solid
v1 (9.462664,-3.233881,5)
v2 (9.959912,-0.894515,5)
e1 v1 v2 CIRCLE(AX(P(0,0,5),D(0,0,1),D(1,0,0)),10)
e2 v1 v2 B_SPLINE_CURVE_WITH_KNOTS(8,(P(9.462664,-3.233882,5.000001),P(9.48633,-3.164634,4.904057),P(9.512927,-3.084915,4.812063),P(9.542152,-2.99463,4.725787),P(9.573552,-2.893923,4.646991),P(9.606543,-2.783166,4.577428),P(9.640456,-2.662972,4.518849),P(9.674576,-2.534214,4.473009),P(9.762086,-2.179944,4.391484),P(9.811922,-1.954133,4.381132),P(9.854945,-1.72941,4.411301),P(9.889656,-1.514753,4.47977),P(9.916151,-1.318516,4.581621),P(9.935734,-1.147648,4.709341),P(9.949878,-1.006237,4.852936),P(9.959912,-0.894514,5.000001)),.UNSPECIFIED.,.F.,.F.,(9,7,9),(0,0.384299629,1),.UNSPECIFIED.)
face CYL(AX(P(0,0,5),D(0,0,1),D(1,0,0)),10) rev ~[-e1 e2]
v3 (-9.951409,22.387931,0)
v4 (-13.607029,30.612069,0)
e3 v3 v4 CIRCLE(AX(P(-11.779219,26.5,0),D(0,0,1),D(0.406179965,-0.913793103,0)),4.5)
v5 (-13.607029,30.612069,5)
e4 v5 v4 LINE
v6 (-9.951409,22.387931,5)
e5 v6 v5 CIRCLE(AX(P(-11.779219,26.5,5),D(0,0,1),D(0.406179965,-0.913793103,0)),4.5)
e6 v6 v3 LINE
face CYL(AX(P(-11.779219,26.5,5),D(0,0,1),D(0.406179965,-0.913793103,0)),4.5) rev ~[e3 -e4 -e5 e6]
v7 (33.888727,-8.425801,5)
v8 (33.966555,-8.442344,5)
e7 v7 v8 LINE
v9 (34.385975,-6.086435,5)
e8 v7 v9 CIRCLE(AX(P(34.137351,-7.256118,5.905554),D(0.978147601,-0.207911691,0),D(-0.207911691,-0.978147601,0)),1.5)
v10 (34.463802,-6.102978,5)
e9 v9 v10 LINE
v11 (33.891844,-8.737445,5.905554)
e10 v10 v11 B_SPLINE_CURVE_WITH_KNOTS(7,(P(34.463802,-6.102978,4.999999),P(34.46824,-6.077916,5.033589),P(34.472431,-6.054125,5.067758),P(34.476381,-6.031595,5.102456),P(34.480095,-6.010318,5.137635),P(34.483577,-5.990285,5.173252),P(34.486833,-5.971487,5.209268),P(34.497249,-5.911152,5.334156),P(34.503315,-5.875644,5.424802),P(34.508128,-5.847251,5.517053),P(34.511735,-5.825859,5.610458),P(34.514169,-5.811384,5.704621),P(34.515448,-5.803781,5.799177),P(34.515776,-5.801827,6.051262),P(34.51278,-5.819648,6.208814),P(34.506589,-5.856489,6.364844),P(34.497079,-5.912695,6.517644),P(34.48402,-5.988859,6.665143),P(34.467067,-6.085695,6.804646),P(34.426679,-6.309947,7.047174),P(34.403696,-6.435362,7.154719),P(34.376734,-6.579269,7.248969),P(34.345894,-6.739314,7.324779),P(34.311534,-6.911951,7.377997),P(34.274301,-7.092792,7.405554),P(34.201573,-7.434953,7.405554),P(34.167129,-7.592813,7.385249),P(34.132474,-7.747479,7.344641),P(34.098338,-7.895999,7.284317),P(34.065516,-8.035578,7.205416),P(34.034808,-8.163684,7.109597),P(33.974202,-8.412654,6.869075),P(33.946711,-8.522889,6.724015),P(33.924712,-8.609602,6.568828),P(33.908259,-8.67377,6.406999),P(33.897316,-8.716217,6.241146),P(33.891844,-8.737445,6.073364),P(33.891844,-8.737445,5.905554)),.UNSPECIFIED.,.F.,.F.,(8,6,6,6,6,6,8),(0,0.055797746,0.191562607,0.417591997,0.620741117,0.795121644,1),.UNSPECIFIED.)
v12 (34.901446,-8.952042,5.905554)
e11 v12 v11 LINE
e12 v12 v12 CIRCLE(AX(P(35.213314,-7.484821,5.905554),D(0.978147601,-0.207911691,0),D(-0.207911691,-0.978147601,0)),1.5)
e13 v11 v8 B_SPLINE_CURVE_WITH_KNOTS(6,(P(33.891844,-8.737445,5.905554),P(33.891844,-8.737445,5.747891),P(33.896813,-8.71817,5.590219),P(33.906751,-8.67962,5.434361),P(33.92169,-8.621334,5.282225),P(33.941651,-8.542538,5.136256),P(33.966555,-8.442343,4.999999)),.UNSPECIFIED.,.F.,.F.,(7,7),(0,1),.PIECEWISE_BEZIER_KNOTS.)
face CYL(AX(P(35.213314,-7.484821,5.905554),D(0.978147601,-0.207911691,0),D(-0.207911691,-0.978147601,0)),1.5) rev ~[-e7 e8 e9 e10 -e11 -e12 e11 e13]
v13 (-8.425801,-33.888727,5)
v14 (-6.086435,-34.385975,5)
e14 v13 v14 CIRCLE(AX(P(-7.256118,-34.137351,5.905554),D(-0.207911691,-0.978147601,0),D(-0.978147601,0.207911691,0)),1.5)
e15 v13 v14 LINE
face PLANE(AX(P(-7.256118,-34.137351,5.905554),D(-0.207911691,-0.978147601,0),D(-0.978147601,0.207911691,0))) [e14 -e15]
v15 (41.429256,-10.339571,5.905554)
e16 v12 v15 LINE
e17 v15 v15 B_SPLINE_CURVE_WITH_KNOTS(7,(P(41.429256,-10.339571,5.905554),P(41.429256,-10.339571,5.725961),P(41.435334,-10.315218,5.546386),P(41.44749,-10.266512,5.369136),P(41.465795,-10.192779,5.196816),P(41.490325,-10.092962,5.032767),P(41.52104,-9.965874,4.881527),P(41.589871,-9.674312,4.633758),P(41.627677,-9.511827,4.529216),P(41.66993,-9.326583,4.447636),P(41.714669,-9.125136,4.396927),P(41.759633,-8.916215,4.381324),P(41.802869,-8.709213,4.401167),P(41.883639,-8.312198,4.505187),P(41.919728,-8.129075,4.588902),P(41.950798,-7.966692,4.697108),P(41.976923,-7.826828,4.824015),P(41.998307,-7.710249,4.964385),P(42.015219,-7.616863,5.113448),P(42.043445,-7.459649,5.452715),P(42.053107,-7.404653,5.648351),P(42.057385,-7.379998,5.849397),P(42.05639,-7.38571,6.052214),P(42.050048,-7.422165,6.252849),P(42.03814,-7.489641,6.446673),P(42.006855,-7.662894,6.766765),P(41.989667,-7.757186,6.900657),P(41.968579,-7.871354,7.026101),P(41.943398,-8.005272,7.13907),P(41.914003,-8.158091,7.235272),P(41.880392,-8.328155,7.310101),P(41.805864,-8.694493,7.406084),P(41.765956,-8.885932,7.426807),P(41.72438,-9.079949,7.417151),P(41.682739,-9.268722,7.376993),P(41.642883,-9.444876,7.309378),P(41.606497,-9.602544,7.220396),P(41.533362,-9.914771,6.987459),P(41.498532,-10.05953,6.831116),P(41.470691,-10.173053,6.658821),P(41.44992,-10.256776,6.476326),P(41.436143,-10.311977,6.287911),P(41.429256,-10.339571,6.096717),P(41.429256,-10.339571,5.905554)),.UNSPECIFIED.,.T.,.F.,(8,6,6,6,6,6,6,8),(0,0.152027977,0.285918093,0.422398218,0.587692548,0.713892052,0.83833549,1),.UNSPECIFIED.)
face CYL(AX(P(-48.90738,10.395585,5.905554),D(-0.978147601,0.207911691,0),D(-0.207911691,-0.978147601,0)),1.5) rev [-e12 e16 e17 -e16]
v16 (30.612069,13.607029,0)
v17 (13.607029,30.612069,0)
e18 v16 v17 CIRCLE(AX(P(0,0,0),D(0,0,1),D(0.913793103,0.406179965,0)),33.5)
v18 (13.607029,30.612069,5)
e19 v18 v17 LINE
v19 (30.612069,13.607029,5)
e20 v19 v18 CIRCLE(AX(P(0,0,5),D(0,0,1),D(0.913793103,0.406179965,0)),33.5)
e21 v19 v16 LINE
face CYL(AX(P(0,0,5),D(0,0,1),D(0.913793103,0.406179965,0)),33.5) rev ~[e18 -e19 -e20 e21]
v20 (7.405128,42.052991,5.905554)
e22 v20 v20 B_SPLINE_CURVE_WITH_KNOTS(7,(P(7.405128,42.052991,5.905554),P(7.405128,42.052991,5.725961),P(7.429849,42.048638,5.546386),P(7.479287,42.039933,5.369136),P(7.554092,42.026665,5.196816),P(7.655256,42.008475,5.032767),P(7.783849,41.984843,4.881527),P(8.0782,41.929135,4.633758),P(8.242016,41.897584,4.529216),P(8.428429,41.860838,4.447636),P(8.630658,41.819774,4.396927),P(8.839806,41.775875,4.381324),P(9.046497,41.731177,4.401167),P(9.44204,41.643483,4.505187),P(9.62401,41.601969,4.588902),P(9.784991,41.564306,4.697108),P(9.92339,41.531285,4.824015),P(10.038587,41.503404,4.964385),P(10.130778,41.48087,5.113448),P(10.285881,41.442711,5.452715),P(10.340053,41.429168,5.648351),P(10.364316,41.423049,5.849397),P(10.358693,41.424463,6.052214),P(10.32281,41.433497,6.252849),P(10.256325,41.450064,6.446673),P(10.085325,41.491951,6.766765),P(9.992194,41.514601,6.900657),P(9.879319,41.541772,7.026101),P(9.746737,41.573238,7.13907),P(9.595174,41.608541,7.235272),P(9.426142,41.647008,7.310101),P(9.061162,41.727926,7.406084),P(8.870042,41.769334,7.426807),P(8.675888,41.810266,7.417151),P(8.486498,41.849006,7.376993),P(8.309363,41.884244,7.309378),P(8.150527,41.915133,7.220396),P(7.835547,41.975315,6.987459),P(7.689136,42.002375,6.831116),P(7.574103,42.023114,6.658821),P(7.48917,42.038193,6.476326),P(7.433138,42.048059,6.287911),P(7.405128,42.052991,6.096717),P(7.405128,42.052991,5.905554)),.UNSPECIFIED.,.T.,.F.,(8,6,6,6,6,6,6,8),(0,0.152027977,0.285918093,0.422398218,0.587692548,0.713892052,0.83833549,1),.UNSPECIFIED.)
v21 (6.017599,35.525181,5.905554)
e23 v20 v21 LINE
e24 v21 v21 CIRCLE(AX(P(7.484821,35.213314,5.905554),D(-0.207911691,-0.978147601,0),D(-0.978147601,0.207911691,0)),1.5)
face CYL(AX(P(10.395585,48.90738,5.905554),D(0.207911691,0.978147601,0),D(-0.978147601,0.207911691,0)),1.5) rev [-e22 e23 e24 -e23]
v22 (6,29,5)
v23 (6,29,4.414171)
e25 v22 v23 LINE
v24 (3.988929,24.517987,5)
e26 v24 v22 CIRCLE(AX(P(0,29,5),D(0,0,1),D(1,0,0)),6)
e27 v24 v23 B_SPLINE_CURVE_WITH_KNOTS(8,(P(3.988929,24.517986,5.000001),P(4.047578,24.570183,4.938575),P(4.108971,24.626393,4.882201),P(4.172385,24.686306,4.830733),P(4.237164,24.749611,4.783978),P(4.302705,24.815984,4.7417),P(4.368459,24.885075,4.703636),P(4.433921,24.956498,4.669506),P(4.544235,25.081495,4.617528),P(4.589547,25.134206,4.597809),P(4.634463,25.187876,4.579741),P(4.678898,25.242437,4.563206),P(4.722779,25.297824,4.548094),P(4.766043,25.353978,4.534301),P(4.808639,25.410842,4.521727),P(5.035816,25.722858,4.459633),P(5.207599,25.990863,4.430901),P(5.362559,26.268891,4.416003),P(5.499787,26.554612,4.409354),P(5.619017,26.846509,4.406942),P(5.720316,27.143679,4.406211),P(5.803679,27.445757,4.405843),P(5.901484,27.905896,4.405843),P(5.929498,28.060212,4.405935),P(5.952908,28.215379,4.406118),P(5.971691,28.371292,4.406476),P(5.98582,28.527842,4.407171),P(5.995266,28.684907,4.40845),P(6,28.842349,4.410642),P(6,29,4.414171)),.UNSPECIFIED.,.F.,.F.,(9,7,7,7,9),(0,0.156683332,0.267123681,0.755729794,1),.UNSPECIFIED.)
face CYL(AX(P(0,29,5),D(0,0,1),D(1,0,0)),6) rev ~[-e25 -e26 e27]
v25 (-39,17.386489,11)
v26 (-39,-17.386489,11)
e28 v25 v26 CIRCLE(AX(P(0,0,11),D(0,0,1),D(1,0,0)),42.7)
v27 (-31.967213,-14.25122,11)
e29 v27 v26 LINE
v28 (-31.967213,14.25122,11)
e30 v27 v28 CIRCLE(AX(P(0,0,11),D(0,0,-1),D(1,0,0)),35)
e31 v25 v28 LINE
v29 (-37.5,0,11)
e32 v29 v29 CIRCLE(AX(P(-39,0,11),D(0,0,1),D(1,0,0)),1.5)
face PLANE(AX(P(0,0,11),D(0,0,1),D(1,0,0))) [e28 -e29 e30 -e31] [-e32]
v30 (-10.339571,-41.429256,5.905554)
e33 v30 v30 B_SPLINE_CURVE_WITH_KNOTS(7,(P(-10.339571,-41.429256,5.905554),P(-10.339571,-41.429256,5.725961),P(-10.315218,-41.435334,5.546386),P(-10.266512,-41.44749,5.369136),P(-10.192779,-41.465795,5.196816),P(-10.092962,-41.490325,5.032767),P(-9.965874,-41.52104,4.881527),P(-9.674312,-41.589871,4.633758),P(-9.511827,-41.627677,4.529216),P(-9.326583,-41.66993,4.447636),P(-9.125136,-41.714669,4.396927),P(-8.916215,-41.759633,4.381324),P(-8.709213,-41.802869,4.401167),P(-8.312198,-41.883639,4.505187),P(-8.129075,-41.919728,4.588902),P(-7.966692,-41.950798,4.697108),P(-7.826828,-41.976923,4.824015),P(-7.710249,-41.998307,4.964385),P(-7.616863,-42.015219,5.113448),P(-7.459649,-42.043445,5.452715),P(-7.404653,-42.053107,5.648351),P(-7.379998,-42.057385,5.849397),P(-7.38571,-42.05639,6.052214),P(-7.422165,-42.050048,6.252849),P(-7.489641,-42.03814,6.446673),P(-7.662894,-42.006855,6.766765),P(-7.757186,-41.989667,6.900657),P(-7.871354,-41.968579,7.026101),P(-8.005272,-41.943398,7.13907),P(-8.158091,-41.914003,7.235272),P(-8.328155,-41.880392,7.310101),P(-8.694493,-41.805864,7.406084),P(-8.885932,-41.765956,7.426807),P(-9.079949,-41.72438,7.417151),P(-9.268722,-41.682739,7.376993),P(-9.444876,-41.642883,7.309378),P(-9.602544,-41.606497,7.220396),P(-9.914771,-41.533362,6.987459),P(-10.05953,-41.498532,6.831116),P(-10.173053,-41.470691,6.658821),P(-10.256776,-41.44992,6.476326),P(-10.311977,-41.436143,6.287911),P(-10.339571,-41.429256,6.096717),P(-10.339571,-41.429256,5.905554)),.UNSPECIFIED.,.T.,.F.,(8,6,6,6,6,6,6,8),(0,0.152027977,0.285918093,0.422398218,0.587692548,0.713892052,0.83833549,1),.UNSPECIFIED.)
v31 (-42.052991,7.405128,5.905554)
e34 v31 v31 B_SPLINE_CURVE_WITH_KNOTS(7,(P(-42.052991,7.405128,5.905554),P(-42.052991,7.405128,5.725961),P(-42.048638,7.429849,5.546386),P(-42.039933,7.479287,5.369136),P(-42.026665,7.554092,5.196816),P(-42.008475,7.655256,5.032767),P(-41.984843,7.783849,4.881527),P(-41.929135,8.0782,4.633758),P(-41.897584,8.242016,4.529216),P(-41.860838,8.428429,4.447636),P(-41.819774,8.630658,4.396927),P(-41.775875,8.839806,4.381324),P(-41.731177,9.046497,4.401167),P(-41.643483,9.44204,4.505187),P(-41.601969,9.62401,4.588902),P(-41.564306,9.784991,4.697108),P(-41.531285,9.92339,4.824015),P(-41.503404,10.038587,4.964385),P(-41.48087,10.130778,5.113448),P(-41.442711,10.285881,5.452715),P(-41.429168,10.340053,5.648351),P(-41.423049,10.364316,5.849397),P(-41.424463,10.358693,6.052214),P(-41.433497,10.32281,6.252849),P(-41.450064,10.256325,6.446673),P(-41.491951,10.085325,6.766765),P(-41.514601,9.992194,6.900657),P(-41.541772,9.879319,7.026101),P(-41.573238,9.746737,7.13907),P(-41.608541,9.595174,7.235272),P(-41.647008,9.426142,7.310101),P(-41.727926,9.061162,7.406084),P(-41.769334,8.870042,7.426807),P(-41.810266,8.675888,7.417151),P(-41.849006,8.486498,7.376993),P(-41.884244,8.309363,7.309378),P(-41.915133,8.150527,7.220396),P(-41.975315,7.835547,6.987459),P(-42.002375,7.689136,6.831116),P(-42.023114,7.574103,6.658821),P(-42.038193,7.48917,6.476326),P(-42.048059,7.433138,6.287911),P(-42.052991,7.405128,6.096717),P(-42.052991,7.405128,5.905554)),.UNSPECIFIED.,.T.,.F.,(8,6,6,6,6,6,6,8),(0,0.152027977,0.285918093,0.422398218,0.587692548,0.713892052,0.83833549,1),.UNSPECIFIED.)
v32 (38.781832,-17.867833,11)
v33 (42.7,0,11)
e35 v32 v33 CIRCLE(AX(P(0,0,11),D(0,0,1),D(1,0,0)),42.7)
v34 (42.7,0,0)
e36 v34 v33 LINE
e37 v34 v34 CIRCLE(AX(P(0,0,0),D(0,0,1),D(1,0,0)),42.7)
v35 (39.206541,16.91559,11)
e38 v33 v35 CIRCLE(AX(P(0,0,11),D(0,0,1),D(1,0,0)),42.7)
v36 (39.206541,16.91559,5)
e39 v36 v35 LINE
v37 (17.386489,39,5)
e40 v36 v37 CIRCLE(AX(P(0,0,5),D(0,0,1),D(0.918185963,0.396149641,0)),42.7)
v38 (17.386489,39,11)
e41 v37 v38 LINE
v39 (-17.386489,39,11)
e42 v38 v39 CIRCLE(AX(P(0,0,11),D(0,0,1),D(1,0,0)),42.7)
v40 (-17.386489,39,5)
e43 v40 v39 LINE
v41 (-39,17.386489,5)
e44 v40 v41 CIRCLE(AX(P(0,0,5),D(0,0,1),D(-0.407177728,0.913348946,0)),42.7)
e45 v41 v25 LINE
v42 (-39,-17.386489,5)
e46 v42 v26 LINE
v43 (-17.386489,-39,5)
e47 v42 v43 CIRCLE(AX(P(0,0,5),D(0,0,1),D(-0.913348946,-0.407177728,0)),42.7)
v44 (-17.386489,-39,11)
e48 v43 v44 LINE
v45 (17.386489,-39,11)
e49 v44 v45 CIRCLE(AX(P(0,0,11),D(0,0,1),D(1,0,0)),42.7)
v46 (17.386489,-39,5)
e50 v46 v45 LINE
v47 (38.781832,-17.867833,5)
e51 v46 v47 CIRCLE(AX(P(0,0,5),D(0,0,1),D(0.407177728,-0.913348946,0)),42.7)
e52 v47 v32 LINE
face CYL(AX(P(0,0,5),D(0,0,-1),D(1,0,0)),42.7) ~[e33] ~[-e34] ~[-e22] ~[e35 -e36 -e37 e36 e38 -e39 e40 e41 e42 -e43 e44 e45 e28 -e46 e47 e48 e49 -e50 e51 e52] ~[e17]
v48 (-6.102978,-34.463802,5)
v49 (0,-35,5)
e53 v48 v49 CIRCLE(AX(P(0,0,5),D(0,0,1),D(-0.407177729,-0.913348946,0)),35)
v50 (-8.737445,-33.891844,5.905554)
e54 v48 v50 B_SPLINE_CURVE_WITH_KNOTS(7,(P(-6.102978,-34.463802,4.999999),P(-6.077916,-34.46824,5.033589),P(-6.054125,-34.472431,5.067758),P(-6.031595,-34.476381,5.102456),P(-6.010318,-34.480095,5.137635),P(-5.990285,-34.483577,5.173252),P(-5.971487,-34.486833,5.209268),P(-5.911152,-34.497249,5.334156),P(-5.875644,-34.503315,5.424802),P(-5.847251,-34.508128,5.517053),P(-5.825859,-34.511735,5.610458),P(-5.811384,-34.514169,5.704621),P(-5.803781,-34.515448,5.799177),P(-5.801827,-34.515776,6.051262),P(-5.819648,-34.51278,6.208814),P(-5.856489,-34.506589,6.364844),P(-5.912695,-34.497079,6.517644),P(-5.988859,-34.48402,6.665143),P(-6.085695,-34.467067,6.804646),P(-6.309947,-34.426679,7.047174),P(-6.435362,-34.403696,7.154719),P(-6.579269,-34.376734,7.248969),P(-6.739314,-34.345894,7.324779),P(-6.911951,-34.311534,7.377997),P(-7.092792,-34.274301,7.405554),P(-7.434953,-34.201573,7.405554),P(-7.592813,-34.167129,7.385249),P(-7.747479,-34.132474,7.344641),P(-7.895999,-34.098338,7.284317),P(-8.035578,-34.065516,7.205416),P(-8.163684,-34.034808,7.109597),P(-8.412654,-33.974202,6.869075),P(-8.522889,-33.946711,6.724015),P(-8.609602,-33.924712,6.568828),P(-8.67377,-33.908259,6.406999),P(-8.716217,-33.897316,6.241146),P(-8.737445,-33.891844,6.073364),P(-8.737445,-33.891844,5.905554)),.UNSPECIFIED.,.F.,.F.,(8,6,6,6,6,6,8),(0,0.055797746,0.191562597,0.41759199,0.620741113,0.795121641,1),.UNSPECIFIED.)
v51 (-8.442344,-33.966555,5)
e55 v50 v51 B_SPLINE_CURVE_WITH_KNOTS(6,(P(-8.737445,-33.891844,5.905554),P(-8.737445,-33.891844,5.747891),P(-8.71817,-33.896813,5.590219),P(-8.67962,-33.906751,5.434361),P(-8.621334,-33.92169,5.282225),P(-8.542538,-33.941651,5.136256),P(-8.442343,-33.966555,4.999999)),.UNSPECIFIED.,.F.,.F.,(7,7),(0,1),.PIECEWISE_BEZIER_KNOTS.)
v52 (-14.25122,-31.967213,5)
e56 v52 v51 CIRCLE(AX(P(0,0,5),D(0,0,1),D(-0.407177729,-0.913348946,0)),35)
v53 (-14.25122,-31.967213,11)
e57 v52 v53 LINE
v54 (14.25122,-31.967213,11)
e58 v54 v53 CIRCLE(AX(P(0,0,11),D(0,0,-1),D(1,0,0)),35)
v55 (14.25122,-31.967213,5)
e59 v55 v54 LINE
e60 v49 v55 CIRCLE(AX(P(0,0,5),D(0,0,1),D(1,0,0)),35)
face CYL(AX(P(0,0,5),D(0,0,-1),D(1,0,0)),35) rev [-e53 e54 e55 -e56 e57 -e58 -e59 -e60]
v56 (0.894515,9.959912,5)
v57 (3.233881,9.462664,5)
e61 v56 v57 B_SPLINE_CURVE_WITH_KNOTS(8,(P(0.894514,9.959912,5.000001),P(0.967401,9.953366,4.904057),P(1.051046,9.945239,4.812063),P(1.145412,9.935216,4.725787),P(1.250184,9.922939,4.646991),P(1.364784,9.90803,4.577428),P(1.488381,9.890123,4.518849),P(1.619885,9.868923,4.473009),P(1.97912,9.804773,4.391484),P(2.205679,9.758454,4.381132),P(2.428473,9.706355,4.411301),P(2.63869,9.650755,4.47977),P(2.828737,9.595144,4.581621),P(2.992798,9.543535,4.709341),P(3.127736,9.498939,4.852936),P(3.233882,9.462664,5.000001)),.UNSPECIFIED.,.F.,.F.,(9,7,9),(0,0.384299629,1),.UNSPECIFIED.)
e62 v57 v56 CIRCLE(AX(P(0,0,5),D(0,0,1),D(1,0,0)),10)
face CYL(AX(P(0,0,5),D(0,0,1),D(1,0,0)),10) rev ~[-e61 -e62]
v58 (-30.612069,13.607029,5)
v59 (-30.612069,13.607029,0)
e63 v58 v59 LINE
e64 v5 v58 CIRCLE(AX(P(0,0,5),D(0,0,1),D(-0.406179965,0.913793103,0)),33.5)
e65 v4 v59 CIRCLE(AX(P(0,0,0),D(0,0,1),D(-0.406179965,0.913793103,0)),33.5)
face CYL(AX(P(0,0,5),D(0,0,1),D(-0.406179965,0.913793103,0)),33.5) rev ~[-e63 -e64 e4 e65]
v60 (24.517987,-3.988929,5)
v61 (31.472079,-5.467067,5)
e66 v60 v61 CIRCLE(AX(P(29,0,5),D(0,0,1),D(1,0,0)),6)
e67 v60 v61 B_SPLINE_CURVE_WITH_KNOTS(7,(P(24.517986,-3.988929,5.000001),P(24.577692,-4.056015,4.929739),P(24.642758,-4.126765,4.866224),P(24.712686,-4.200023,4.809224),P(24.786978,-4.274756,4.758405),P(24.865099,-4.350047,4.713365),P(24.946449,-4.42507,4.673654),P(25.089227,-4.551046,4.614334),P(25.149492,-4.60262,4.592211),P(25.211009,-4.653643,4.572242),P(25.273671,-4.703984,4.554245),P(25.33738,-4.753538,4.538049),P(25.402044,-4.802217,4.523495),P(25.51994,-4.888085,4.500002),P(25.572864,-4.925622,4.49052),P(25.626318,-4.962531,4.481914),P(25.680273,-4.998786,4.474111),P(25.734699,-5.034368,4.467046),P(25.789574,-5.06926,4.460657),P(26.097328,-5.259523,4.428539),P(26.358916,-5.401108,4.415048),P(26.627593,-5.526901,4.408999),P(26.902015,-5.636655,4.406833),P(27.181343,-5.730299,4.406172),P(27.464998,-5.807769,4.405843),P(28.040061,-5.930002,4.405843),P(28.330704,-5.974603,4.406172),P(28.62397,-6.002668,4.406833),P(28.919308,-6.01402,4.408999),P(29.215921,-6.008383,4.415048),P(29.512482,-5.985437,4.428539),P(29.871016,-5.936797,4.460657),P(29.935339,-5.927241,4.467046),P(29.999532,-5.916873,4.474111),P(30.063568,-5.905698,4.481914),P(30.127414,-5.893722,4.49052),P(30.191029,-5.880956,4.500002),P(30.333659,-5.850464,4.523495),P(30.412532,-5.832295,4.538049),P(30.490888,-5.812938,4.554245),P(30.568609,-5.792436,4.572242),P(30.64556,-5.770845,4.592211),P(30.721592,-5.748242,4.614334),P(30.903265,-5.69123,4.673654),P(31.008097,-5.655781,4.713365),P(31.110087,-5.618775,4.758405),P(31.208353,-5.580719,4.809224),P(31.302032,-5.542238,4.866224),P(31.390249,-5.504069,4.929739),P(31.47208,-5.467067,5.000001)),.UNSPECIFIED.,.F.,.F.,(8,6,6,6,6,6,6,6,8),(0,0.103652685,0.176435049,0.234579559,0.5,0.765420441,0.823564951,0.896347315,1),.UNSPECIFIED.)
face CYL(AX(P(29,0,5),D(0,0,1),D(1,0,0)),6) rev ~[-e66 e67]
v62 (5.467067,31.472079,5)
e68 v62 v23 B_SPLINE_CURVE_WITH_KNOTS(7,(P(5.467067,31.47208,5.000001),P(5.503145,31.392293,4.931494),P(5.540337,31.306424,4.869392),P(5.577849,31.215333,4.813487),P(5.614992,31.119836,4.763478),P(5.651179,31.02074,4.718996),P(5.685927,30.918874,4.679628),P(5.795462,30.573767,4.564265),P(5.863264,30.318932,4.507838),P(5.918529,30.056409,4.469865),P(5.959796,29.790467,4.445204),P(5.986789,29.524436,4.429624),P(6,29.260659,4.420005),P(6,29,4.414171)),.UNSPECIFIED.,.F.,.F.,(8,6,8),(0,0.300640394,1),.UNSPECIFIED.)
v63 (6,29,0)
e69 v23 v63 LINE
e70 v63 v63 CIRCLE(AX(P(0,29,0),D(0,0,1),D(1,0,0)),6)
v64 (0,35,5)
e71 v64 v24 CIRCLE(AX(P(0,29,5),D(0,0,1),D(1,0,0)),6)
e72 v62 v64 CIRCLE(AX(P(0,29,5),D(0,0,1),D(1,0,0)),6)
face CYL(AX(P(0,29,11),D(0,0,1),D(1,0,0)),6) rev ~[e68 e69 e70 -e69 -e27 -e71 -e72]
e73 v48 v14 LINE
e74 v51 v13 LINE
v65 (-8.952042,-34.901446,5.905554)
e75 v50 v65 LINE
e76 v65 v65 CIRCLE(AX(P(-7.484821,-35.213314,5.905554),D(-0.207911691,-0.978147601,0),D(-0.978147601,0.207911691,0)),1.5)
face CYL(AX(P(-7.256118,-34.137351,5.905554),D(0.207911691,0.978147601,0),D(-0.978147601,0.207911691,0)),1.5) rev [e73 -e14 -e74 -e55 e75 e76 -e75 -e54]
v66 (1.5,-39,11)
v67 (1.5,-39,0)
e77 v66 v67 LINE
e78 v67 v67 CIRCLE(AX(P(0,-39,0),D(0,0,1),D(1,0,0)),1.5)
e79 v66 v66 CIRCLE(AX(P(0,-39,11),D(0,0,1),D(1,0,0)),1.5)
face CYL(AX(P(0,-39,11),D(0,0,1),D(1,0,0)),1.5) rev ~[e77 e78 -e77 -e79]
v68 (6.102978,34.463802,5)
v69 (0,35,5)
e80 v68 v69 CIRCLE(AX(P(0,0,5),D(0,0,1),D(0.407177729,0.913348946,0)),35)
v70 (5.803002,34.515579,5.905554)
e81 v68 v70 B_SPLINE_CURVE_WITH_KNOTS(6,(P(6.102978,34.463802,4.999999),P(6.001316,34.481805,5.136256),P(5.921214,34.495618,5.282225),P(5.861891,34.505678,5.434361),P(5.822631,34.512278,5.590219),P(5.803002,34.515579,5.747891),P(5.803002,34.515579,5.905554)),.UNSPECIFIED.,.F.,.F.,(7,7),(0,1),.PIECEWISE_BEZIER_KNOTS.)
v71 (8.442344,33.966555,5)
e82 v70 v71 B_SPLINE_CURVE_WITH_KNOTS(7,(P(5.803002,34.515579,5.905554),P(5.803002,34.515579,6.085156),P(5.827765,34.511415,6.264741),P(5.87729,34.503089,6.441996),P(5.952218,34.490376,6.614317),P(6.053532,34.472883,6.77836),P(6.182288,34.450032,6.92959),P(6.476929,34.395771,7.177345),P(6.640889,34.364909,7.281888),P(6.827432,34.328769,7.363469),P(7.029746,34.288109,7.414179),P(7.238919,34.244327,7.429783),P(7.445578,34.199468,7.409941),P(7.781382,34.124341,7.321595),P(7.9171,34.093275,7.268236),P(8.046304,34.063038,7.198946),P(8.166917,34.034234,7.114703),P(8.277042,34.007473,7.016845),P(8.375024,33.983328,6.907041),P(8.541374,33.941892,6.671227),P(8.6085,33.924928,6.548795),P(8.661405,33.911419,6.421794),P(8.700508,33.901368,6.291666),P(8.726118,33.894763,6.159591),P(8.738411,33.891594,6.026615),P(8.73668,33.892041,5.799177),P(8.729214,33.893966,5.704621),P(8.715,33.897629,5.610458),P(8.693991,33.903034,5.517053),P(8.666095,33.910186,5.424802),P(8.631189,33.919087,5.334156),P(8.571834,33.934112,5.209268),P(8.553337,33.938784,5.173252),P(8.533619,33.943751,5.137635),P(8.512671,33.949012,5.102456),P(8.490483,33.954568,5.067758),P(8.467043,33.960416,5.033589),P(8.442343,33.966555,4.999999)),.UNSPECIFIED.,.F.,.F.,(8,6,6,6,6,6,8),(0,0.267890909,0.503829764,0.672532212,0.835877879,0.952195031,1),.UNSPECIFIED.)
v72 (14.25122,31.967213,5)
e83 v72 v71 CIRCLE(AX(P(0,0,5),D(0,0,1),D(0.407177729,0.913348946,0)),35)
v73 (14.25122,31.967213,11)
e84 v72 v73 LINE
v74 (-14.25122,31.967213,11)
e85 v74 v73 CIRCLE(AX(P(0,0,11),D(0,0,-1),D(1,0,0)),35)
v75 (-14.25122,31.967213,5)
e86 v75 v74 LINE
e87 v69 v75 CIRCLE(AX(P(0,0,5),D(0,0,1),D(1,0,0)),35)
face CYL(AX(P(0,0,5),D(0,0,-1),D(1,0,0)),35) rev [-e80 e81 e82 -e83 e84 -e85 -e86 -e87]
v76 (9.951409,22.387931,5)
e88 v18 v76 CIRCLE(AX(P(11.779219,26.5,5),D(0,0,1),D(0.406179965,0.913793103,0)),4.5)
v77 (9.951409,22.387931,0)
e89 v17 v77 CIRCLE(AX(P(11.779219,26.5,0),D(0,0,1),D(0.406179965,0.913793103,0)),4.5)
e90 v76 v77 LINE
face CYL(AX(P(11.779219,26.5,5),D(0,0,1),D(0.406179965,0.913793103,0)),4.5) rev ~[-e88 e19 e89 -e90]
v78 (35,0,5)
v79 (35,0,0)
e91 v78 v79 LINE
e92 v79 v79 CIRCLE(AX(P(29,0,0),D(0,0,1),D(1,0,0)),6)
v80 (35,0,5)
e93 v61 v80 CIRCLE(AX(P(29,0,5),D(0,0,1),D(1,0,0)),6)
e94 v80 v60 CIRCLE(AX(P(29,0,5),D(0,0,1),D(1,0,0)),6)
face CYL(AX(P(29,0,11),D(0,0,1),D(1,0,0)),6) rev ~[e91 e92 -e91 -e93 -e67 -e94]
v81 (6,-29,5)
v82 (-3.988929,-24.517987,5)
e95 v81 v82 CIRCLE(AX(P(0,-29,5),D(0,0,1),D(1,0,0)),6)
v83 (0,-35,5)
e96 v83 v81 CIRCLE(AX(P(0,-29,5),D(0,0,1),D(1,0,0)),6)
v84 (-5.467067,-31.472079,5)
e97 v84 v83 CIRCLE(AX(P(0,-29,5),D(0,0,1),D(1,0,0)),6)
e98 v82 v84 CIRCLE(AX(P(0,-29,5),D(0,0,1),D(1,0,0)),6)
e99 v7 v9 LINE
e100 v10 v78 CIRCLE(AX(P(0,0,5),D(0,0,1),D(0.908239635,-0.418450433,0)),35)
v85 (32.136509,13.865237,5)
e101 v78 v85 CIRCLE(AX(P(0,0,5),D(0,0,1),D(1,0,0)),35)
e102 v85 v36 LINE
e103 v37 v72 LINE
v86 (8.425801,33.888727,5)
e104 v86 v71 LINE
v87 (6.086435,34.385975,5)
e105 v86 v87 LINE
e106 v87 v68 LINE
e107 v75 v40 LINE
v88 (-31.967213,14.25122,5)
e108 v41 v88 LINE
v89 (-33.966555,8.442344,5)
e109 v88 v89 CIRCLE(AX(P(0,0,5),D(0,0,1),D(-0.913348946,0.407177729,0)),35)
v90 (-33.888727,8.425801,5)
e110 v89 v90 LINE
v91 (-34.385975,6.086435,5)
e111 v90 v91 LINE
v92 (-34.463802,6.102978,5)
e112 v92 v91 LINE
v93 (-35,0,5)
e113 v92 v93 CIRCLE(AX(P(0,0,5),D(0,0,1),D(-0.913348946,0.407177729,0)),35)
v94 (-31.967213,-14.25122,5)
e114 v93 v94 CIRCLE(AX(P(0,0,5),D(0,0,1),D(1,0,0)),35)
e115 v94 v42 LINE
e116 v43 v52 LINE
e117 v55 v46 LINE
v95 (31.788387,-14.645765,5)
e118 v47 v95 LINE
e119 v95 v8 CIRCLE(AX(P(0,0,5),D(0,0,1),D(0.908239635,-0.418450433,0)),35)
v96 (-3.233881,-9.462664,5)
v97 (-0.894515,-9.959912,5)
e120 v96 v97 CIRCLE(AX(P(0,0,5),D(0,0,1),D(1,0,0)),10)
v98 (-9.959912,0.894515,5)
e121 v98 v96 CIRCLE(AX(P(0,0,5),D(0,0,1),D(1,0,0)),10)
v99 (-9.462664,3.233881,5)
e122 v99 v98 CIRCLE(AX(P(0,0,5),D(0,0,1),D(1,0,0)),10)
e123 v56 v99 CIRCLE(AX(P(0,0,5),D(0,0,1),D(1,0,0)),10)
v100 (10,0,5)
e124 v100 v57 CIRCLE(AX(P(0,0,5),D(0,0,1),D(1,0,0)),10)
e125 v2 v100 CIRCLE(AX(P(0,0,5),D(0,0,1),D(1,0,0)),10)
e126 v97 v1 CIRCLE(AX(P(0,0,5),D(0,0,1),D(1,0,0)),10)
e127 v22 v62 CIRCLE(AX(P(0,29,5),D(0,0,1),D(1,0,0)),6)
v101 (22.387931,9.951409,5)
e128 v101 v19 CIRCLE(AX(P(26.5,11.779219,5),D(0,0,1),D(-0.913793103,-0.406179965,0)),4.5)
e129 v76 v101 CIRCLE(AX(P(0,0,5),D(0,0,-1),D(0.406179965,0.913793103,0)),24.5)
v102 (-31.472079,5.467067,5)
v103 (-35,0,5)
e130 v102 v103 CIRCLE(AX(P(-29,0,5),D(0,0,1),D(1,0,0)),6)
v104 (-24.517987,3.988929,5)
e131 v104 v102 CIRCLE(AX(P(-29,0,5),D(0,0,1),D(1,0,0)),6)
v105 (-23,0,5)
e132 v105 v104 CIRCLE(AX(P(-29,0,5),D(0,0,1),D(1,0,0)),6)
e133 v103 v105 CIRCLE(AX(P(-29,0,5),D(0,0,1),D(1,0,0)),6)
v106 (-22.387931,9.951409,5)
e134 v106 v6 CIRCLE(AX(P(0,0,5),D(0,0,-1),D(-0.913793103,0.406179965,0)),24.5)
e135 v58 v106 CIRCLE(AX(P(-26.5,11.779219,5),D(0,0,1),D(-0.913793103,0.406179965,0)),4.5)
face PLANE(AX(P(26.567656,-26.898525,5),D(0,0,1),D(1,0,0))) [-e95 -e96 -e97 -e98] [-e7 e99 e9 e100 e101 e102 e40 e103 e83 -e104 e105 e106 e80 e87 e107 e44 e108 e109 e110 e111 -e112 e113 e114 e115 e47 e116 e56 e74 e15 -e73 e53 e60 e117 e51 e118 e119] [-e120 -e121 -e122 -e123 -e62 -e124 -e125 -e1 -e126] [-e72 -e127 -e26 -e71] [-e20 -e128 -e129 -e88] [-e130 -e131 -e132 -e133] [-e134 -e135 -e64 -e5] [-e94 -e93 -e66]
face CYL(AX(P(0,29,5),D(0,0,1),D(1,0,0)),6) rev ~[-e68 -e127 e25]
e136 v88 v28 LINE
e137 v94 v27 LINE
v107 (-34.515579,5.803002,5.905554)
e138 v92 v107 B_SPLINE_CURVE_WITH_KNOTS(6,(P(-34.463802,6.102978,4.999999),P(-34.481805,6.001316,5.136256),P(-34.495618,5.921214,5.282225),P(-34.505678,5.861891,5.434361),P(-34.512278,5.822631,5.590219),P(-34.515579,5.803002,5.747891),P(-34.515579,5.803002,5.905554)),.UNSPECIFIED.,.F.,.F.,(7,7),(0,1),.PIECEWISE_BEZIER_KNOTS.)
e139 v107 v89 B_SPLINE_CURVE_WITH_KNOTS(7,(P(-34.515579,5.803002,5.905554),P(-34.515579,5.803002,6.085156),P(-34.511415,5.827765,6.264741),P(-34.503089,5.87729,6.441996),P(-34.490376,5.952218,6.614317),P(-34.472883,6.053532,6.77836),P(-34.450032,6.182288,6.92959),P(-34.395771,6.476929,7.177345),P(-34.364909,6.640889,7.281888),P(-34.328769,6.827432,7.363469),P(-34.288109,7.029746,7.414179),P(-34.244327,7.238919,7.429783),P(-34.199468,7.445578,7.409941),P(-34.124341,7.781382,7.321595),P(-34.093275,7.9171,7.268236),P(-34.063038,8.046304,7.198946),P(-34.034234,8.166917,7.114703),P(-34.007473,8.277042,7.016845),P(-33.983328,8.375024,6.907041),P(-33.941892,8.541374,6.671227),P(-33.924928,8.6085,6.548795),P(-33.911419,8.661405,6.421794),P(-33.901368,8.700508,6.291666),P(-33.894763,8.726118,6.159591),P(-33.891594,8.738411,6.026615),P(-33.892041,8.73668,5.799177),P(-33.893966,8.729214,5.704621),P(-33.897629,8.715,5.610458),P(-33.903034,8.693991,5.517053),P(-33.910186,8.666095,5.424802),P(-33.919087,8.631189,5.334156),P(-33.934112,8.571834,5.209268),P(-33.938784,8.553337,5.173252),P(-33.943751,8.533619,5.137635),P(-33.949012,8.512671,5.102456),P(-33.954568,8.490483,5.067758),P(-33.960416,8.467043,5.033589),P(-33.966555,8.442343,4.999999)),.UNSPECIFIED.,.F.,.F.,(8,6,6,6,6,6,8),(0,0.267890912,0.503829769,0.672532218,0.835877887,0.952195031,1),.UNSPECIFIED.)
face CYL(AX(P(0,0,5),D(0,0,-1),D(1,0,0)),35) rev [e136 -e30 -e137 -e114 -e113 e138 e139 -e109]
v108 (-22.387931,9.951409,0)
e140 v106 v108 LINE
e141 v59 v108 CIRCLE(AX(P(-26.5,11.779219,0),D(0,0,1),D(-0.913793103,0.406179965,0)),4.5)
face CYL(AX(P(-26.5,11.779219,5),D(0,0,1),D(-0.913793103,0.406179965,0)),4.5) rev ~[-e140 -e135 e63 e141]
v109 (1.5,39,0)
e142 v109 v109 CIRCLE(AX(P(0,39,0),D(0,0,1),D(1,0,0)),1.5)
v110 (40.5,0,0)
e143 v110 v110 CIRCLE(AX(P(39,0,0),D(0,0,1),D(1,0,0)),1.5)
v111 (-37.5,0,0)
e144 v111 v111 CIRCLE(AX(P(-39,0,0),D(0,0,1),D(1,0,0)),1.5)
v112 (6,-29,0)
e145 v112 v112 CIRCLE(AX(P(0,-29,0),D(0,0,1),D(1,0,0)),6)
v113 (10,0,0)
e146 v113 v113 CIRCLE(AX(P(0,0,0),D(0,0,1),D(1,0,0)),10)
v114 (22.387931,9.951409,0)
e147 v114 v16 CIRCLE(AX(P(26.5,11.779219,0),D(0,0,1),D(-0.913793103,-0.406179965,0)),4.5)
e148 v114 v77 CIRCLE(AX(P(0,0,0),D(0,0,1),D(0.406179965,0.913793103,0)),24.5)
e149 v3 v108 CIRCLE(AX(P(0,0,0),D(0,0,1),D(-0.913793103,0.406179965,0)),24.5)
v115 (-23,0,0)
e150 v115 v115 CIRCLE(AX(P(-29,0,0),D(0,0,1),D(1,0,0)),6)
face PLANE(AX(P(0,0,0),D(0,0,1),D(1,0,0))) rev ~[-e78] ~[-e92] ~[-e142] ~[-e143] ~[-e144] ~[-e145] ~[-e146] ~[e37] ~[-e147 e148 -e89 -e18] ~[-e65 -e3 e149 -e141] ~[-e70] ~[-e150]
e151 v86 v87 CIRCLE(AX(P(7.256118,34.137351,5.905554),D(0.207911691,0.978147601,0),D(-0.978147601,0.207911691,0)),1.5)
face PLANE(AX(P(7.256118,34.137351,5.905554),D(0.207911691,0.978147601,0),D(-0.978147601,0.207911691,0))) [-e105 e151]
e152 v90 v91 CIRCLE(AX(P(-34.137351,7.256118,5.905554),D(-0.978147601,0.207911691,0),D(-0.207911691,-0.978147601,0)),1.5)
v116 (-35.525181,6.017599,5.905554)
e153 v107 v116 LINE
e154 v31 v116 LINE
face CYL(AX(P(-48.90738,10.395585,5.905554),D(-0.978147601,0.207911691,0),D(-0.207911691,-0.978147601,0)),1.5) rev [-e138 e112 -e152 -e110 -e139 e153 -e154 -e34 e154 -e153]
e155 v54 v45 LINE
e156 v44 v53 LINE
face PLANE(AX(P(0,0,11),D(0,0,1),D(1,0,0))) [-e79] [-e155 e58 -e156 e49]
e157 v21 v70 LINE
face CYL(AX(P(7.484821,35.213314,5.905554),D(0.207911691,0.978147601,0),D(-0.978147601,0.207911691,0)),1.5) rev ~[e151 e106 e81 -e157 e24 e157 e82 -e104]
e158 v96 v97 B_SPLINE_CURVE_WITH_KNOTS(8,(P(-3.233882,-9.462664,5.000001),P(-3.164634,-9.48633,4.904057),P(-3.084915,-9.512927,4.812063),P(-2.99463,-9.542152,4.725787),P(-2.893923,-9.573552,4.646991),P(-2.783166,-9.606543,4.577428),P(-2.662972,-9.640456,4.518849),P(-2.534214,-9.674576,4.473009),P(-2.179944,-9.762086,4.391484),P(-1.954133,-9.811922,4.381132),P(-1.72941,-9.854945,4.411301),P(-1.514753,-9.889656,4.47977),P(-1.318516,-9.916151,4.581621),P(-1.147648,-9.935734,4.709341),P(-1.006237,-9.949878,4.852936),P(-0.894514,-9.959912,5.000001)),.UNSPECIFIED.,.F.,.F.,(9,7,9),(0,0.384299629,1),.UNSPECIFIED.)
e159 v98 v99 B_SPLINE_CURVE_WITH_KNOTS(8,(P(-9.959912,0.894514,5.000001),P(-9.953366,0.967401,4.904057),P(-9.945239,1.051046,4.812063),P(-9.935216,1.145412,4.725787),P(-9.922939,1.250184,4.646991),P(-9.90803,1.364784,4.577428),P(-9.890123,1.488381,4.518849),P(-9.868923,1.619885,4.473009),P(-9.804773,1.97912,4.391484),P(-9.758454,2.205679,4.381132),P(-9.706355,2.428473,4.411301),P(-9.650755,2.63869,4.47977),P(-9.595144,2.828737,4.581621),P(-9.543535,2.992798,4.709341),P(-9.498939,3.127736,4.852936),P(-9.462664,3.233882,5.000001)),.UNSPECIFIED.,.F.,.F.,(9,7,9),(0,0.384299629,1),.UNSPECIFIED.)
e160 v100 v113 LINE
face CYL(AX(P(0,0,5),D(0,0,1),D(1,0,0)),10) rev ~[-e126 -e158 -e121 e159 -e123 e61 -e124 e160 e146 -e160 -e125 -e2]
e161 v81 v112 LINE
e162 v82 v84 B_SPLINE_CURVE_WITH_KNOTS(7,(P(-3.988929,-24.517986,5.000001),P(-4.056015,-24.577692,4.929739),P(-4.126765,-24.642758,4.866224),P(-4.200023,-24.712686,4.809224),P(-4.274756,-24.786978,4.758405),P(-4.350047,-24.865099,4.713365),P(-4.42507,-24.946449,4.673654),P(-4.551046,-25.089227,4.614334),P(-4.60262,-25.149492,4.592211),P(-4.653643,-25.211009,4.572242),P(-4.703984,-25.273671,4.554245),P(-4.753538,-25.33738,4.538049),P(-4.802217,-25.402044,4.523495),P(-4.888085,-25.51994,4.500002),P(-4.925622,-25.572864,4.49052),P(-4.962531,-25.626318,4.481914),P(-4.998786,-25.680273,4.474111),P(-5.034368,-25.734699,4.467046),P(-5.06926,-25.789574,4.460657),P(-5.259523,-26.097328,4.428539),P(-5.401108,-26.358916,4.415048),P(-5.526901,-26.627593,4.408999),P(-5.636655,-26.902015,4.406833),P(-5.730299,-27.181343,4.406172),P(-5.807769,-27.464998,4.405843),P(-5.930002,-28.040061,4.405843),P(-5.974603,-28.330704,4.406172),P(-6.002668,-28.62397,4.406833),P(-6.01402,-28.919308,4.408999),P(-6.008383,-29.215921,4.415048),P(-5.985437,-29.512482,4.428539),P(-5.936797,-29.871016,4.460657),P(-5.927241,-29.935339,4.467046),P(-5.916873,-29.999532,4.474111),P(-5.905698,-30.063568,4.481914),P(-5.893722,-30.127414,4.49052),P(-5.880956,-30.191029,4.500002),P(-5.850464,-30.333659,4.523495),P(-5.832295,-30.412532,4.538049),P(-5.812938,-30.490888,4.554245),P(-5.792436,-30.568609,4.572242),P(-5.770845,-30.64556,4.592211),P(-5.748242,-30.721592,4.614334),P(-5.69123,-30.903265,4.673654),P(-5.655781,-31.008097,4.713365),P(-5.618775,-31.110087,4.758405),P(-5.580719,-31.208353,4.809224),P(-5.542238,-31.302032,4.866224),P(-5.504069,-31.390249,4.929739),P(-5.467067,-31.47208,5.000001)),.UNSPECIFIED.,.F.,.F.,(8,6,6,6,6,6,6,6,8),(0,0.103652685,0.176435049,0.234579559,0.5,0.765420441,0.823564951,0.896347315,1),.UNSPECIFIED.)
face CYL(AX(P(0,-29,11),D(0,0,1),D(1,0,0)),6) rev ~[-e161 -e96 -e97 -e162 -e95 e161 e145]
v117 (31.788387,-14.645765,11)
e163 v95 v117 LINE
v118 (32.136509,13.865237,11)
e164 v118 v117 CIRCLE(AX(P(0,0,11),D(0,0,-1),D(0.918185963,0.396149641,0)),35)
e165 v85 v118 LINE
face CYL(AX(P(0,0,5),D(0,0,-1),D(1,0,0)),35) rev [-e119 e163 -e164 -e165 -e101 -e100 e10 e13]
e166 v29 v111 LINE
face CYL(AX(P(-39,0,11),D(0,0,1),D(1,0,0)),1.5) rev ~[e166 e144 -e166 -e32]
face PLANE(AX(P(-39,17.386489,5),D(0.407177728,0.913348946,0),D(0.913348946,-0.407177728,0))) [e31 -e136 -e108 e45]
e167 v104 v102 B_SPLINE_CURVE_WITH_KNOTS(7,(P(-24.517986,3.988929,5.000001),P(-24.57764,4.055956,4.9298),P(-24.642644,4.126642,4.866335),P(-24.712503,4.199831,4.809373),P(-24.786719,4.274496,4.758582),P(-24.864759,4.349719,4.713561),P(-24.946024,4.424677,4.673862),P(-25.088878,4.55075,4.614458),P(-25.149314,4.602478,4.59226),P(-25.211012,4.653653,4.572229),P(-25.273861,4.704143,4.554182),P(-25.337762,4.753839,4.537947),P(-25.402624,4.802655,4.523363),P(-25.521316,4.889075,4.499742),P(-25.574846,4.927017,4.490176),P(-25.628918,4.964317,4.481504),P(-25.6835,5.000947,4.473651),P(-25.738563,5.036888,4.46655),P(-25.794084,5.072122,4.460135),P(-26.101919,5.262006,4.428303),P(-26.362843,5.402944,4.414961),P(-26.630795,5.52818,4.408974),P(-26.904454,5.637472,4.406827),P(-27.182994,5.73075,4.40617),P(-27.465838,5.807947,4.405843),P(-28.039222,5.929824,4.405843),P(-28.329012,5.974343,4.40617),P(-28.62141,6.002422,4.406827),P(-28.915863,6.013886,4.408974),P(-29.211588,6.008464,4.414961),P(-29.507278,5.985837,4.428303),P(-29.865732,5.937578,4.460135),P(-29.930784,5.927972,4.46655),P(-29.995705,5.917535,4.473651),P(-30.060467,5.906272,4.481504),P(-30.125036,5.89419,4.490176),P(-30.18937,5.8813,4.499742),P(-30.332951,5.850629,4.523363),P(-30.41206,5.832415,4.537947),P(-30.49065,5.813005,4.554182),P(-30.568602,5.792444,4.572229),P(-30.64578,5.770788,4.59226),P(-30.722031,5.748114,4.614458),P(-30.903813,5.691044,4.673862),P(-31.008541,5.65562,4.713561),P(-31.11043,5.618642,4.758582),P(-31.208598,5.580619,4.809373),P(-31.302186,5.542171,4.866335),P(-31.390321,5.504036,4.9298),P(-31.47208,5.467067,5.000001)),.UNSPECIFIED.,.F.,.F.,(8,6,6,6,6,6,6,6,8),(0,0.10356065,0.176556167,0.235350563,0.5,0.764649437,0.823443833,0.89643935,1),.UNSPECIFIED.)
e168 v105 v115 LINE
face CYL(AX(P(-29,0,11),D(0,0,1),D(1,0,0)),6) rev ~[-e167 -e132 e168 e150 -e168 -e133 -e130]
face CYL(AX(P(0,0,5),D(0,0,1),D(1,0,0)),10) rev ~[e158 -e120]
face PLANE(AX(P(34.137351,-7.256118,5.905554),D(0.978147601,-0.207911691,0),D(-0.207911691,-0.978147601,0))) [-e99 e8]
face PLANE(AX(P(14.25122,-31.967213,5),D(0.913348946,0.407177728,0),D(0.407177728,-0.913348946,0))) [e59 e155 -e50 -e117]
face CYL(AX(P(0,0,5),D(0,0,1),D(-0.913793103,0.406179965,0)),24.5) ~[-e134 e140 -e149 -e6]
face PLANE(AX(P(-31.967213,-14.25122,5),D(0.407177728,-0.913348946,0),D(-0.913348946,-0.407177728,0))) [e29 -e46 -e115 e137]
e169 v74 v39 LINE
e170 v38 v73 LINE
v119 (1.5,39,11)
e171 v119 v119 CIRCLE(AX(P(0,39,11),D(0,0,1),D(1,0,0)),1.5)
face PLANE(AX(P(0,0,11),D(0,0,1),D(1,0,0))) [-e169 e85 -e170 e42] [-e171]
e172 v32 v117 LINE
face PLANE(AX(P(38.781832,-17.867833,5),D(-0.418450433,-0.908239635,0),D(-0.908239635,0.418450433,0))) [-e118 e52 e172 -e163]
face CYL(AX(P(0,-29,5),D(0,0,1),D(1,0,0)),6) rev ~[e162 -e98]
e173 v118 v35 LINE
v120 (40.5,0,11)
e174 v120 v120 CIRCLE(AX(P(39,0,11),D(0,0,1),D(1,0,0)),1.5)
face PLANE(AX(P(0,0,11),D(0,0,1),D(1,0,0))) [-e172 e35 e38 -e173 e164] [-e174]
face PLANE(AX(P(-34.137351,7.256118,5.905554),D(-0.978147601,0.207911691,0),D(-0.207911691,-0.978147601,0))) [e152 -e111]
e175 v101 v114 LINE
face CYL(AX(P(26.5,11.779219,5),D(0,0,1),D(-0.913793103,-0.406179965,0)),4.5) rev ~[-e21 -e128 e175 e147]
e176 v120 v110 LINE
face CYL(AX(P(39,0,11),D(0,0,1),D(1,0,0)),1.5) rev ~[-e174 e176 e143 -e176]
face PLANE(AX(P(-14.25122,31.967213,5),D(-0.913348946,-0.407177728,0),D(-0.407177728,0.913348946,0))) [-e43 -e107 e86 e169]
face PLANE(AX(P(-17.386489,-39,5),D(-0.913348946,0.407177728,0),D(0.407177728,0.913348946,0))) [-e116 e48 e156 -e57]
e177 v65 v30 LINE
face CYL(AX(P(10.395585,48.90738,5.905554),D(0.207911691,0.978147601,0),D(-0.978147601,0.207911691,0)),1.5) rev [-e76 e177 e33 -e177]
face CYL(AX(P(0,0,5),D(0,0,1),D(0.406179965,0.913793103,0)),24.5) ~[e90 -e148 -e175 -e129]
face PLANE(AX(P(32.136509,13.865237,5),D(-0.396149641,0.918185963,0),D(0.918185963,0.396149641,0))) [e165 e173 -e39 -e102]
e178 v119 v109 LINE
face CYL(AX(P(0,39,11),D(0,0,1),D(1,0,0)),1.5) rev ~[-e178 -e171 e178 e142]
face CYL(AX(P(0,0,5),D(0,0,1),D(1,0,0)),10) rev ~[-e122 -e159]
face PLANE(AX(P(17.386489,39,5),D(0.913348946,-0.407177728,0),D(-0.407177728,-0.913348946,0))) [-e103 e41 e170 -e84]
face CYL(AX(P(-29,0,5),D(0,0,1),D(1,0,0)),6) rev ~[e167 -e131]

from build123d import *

# Parameters (mm, degrees)
SKETCH_1_R               = 42.7
EXTRUDE_1_DEPTH          = 5
SKETCH_2_R               = 42.7
SKETCH_2_R_2             = 35
EXTRUDE_2_DEPTH          = 6
SKETCH_3_R               = 1.5
CUT_EXTRUDE_1_DEPTH      = 11
SKETCH_4_R               = 6
CUT_EXTRUDE_2_DEPTH      = 11
CUT_EXTRUDE_3_DEPTH      = 11
SKETCH_6_R               = 10
CUT_EXTRUDE_4_DEPTH      = 11
CUT_EXTRUDE_START        = -6
CUT_EXTRUDE_5_DEPTH      = 6
CUT_EXTRUDE_6_DEPTH      = 50
CUT_EXTRUDE_6_DEPTH_BACK = 50
SKETCH_9_R               = 1.5
CUT_EXTRUDE_7_DEPTH      = 50
CUT_EXTRUDE_7_DEPTH_BACK = 50
SKETCH_10_R              = 1.5
EXTRUDE_12_DEPTH         = 36
EXTRUDE_12_DEPTH_BACK    = 36
SKETCH_13_R              = 1.5
EXTRUDE_13_DEPTH         = 36
EXTRUDE_13_DEPTH_BACK    = 36
SKETCH_14_R              = 1.5
SKETCH_15_R              = 35
CUT_EXTRUDE_8_DEPTH      = 6
SKETCH_16_R              = 10
CUT_EXTRUDE_9_DEPTH      = 6
SKETCH_17_R              = 1.5
CUT_EXTRUDE_11_DEPTH     = 1.1
CUT_EXTRUDE_START_2      = -1.1
SKETCH_18_R              = 1.5
CUT_EXTRUDE_12_DEPTH     = 1.1
SKETCH_19_R              = 1.5
CUT_EXTRUDE_13_DEPTH     = 1.1
SKETCH_20_R              = 1.5
CUT_EXTRUDE_14_DEPTH     = 1.1
SKETCH_21_R              = 6
CUT_EXTRUDE_15_DEPTH     = 5


with BuildPart() as part:
    # Sketch 1 → Extrude 1 (new body)
    with BuildSketch(Plane.XY):
        Circle(SKETCH_1_R)
    extrude(amount=EXTRUDE_1_DEPTH)

    # Sketch 2 → Extrude 2 (add)
    with BuildSketch(Plane.XY.offset(5)):
        Circle(SKETCH_2_R)
        Circle(SKETCH_2_R_2, mode=Mode.SUBTRACT)
    extrude(amount=EXTRUDE_2_DEPTH)

    # Sketch 3 → Cut-Extrude 1 (cut)
    with BuildSketch(Plane.XY.offset(11)):
        with Locations((0, 39)):
            Circle(SKETCH_3_R)
        with Locations((39, 0)):
            Circle(SKETCH_3_R)
        with Locations((0, -39)):
            Circle(SKETCH_3_R)
        with Locations((-39, 0)):
            Circle(SKETCH_3_R)
    extrude(amount=-CUT_EXTRUDE_1_DEPTH, mode=Mode.SUBTRACT)

    # Sketch 4 → Cut-Extrude 2 (cut)
    with BuildSketch(Plane.XY.offset(11)):
        with Locations((0, 29)):
            Circle(SKETCH_4_R)
        with Locations((-29, 0)):
            Circle(SKETCH_4_R)
        with Locations((0, -29)):
            Circle(SKETCH_4_R)
        with Locations((29, 0)):
            Circle(SKETCH_4_R)
    extrude(amount=-CUT_EXTRUDE_2_DEPTH, mode=Mode.SUBTRACT)

    # Sketch 5 → Cut-Extrude 3 (cut)
    with BuildSketch(Plane.XY.offset(5)):
        with BuildLine():
            ThreePointArc((30.612068966, 13.607028833), (23.68807717, 23.68807717), (13.607028833, 30.612068966))
            ThreePointArc((13.607028833, 30.612068966), (7.667150024, 28.327809843), (9.951409146, 22.387931034))
            ThreePointArc((9.951409146, 22.387931034), (17.324116139, 17.324116139), (22.387931034, 9.951409146))
            ThreePointArc((22.387931034, 9.951409146), (28.327809843, 7.667150024), (30.612068966, 13.607028833))
        make_face()
        with BuildLine():
            ThreePointArc((-13.607028833, 30.612068966), (-23.68807717, 23.68807717), (-30.612068966, 13.607028833))
            ThreePointArc((-30.612068966, 13.607028833), (-28.327809843, 7.667150024), (-22.387931034, 9.951409146))
            ThreePointArc((-22.387931034, 9.951409146), (-17.324116139, 17.324116139), (-9.951409146, 22.387931034))
            ThreePointArc((-9.951409146, 22.387931034), (-7.667150024, 28.327809843), (-13.607028833, 30.612068966))
        make_face()
    extrude(amount=-CUT_EXTRUDE_3_DEPTH, mode=Mode.SUBTRACT)

    # Sketch 6 → Cut-Extrude 4 (cut)
    with BuildSketch(Plane.XY.offset(5)):
        Circle(SKETCH_6_R)
    extrude(amount=-CUT_EXTRUDE_4_DEPTH, mode=Mode.SUBTRACT)

    # Sketch 7 → Cut-Extrude 5 (cut)
    with BuildSketch(Plane.XY.offset(11).offset(CUT_EXTRUDE_START)):
        with BuildLine():
            Line((-14.251220498, 31.967213115), (-17.386489007, 39))
            ThreePointArc((-17.386489007, 39), (-30.193459557, 30.193459557), (-39, 17.386489007))
            Line((-39, 17.386489007), (-31.967213115, 14.251220498))
            ThreePointArc((-31.967213115, 14.251220498), (-24.748737342, 24.748737342), (-14.251220498, 31.967213115))
        make_face()
        with BuildLine():
            ThreePointArc((39.206540603, 16.915589672), (30.374710616, 30.011113858), (17.386489007, 39))
            Line((17.386489007, 39), (14.251220498, 31.967213115))
            ThreePointArc((14.251220498, 31.967213115), (24.897303783, 24.599273654), (32.136508691, 13.865237436))
            Line((32.136508691, 13.865237436), (39.206540603, 16.915589672))
        make_face()
        with BuildLine():
            ThreePointArc((17.386489007, -39), (30.006036038, -30.379726814), (38.78183243, -17.867833483))
            Line((38.78183243, -17.867833483), (31.788387238, -14.64576515))
            ThreePointArc((31.788387238, -14.64576515), (24.595111506, -24.901415422), (14.251220498, -31.967213115))
            Line((14.251220498, -31.967213115), (17.386489007, -39))
        make_face()
        with BuildLine():
            Line((-31.967213115, -14.251220498), (-39, -17.386489007))
            ThreePointArc((-39, -17.386489007), (-30.193459557, -30.193459557), (-17.386489007, -39))
            Line((-17.386489007, -39), (-14.251220498, -31.967213115))
            ThreePointArc((-14.251220498, -31.967213115), (-24.748737342, -24.748737342), (-31.967213115, -14.251220498))
        make_face()
    extrude(amount=CUT_EXTRUDE_5_DEPTH, mode=Mode.SUBTRACT)

    # Sketch 9 → Cut-Extrude 6 (cut, two sides: drawn at the far end of the back side and taken through both)
    with BuildSketch(Plane(origin=(0, 0, 0), x_dir=(0, 0, -1), z_dir=(-0.2079116908177632, -0.9781476007338048, 0)).offset(-CUT_EXTRUDE_6_DEPTH_BACK)):
        with Locations(Location((-5.905553742, 0, 0), (0, 0, 270))):
            Circle(SKETCH_9_R)
    extrude(amount=CUT_EXTRUDE_6_DEPTH + CUT_EXTRUDE_6_DEPTH_BACK, mode=Mode.SUBTRACT)

    # Sketch 10 → Cut-Extrude 7 (cut, two sides: drawn at the far end of the back side and taken through both)
    with BuildSketch(Plane(origin=(0, 0, 0), x_dir=(0, 0, -1), z_dir=(0.9781476007338056, -0.2079116908177598, 0)).offset(-CUT_EXTRUDE_7_DEPTH_BACK)):
        with Locations(Location((-5.905553742, 0, 0), (0, 0, 270))):
            Circle(SKETCH_10_R)
    extrude(amount=CUT_EXTRUDE_7_DEPTH + CUT_EXTRUDE_7_DEPTH_BACK, mode=Mode.SUBTRACT)

    # Sketch 13 → Extrude 12 (add, two sides: drawn at the far end of the back side and taken through both)
    with BuildSketch(Plane(origin=(0, 0, 0), x_dir=(0, 0, -1), z_dir=(-0.2079116908177632, -0.9781476007338048, 0)).offset(-EXTRUDE_12_DEPTH_BACK)):
        with Locations(Location((-5.905553742, 0, 0), (0, 0, 270))):
            Circle(SKETCH_13_R)
    extrude(amount=EXTRUDE_12_DEPTH + EXTRUDE_12_DEPTH_BACK)

    # Sketch 14 → Extrude 13 (add, two sides: drawn at the far end of the back side and taken through both)
    with BuildSketch(Plane(origin=(0, 0, 0), x_dir=(0, 0, -1), z_dir=(0.9781476007338056, -0.2079116908177598, 0)).offset(-EXTRUDE_13_DEPTH_BACK)):
        with Locations(Location((-5.905553742, 0, 0), (0, 0, 270))):
            Circle(SKETCH_14_R)
    extrude(amount=EXTRUDE_13_DEPTH + EXTRUDE_13_DEPTH_BACK)

    # Sketch 15 → Cut-Extrude 8 (cut)
    with BuildSketch(Plane.XY.offset(11).offset(CUT_EXTRUDE_START)):
        Circle(SKETCH_15_R)
    extrude(amount=CUT_EXTRUDE_8_DEPTH, mode=Mode.SUBTRACT)

    # Sketch 16 → Cut-Extrude 9 (cut)
    with BuildSketch(Plane.XY.offset(5)):
        Circle(SKETCH_16_R)
    extrude(amount=-CUT_EXTRUDE_9_DEPTH, mode=Mode.SUBTRACT)

    # Sketch 17 → Cut-Extrude 11 (cut)
    with BuildSketch(Plane(origin=(35.213313626, -7.484820869, 0), x_dir=(0, 0, -1), z_dir=(0.9781476007338056, -0.2079116908177598, 0))):
        with Locations(Location((-5.905553742, 0, 0), (0, 0, 270))):
            Circle(SKETCH_17_R)
    extrude(amount=-CUT_EXTRUDE_11_DEPTH, mode=Mode.SUBTRACT)

    # Sketch 18 → Cut-Extrude 12 (cut)
    with BuildSketch(Plane(origin=(-35.213313626, 7.484820869, 0), x_dir=(0, 0, 1), z_dir=(-0.9781476007338056, 0.2079116908177598, 0)).offset(CUT_EXTRUDE_START_2)):
        with Locations(Location((5.905553742, 0, 0), (0, 0, 270))):
            Circle(SKETCH_18_R)
    extrude(amount=CUT_EXTRUDE_12_DEPTH, mode=Mode.SUBTRACT)

    # Sketch 19 → Cut-Extrude 13 (cut)
    with BuildSketch(Plane(origin=(7.484820869, 35.213313626, 0), x_dir=(0.9781476007338048, -0.2079116908177632, 0), z_dir=(0.2079116908177632, 0.9781476007338048, 0))):
        with Locations(Location((0, -5.905553742, 0), (0, 0, 180))):
            Circle(SKETCH_19_R)
    extrude(amount=-CUT_EXTRUDE_13_DEPTH, mode=Mode.SUBTRACT)

    # Sketch 20 → Cut-Extrude 14 (cut)
    with BuildSketch(Plane(origin=(-7.484820869, -35.213313626, 0), x_dir=(0.9781476007338048, -0.2079116908177632, 0), z_dir=(-0.2079116908177632, -0.9781476007338048, 0)).offset(CUT_EXTRUDE_START_2)):
        with Locations(Location((0, 5.905553742, 0), (0, 0, 180))):
            Circle(SKETCH_20_R)
    extrude(amount=CUT_EXTRUDE_14_DEPTH, mode=Mode.SUBTRACT)

    # Sketch 21 → Cut-Extrude 15 (cut)
    with BuildSketch(Plane.XY.offset(5)):
        with Locations((0, 29)):
            Circle(SKETCH_21_R)
        with Locations((-29, 0)):
            Circle(SKETCH_21_R)
        with Locations((0, -29)):
            Circle(SKETCH_21_R)
        with Locations((29, 0)):
            Circle(SKETCH_21_R)
    extrude(amount=-CUT_EXTRUDE_15_DEPTH, mode=Mode.SUBTRACT)


solid = part.part
